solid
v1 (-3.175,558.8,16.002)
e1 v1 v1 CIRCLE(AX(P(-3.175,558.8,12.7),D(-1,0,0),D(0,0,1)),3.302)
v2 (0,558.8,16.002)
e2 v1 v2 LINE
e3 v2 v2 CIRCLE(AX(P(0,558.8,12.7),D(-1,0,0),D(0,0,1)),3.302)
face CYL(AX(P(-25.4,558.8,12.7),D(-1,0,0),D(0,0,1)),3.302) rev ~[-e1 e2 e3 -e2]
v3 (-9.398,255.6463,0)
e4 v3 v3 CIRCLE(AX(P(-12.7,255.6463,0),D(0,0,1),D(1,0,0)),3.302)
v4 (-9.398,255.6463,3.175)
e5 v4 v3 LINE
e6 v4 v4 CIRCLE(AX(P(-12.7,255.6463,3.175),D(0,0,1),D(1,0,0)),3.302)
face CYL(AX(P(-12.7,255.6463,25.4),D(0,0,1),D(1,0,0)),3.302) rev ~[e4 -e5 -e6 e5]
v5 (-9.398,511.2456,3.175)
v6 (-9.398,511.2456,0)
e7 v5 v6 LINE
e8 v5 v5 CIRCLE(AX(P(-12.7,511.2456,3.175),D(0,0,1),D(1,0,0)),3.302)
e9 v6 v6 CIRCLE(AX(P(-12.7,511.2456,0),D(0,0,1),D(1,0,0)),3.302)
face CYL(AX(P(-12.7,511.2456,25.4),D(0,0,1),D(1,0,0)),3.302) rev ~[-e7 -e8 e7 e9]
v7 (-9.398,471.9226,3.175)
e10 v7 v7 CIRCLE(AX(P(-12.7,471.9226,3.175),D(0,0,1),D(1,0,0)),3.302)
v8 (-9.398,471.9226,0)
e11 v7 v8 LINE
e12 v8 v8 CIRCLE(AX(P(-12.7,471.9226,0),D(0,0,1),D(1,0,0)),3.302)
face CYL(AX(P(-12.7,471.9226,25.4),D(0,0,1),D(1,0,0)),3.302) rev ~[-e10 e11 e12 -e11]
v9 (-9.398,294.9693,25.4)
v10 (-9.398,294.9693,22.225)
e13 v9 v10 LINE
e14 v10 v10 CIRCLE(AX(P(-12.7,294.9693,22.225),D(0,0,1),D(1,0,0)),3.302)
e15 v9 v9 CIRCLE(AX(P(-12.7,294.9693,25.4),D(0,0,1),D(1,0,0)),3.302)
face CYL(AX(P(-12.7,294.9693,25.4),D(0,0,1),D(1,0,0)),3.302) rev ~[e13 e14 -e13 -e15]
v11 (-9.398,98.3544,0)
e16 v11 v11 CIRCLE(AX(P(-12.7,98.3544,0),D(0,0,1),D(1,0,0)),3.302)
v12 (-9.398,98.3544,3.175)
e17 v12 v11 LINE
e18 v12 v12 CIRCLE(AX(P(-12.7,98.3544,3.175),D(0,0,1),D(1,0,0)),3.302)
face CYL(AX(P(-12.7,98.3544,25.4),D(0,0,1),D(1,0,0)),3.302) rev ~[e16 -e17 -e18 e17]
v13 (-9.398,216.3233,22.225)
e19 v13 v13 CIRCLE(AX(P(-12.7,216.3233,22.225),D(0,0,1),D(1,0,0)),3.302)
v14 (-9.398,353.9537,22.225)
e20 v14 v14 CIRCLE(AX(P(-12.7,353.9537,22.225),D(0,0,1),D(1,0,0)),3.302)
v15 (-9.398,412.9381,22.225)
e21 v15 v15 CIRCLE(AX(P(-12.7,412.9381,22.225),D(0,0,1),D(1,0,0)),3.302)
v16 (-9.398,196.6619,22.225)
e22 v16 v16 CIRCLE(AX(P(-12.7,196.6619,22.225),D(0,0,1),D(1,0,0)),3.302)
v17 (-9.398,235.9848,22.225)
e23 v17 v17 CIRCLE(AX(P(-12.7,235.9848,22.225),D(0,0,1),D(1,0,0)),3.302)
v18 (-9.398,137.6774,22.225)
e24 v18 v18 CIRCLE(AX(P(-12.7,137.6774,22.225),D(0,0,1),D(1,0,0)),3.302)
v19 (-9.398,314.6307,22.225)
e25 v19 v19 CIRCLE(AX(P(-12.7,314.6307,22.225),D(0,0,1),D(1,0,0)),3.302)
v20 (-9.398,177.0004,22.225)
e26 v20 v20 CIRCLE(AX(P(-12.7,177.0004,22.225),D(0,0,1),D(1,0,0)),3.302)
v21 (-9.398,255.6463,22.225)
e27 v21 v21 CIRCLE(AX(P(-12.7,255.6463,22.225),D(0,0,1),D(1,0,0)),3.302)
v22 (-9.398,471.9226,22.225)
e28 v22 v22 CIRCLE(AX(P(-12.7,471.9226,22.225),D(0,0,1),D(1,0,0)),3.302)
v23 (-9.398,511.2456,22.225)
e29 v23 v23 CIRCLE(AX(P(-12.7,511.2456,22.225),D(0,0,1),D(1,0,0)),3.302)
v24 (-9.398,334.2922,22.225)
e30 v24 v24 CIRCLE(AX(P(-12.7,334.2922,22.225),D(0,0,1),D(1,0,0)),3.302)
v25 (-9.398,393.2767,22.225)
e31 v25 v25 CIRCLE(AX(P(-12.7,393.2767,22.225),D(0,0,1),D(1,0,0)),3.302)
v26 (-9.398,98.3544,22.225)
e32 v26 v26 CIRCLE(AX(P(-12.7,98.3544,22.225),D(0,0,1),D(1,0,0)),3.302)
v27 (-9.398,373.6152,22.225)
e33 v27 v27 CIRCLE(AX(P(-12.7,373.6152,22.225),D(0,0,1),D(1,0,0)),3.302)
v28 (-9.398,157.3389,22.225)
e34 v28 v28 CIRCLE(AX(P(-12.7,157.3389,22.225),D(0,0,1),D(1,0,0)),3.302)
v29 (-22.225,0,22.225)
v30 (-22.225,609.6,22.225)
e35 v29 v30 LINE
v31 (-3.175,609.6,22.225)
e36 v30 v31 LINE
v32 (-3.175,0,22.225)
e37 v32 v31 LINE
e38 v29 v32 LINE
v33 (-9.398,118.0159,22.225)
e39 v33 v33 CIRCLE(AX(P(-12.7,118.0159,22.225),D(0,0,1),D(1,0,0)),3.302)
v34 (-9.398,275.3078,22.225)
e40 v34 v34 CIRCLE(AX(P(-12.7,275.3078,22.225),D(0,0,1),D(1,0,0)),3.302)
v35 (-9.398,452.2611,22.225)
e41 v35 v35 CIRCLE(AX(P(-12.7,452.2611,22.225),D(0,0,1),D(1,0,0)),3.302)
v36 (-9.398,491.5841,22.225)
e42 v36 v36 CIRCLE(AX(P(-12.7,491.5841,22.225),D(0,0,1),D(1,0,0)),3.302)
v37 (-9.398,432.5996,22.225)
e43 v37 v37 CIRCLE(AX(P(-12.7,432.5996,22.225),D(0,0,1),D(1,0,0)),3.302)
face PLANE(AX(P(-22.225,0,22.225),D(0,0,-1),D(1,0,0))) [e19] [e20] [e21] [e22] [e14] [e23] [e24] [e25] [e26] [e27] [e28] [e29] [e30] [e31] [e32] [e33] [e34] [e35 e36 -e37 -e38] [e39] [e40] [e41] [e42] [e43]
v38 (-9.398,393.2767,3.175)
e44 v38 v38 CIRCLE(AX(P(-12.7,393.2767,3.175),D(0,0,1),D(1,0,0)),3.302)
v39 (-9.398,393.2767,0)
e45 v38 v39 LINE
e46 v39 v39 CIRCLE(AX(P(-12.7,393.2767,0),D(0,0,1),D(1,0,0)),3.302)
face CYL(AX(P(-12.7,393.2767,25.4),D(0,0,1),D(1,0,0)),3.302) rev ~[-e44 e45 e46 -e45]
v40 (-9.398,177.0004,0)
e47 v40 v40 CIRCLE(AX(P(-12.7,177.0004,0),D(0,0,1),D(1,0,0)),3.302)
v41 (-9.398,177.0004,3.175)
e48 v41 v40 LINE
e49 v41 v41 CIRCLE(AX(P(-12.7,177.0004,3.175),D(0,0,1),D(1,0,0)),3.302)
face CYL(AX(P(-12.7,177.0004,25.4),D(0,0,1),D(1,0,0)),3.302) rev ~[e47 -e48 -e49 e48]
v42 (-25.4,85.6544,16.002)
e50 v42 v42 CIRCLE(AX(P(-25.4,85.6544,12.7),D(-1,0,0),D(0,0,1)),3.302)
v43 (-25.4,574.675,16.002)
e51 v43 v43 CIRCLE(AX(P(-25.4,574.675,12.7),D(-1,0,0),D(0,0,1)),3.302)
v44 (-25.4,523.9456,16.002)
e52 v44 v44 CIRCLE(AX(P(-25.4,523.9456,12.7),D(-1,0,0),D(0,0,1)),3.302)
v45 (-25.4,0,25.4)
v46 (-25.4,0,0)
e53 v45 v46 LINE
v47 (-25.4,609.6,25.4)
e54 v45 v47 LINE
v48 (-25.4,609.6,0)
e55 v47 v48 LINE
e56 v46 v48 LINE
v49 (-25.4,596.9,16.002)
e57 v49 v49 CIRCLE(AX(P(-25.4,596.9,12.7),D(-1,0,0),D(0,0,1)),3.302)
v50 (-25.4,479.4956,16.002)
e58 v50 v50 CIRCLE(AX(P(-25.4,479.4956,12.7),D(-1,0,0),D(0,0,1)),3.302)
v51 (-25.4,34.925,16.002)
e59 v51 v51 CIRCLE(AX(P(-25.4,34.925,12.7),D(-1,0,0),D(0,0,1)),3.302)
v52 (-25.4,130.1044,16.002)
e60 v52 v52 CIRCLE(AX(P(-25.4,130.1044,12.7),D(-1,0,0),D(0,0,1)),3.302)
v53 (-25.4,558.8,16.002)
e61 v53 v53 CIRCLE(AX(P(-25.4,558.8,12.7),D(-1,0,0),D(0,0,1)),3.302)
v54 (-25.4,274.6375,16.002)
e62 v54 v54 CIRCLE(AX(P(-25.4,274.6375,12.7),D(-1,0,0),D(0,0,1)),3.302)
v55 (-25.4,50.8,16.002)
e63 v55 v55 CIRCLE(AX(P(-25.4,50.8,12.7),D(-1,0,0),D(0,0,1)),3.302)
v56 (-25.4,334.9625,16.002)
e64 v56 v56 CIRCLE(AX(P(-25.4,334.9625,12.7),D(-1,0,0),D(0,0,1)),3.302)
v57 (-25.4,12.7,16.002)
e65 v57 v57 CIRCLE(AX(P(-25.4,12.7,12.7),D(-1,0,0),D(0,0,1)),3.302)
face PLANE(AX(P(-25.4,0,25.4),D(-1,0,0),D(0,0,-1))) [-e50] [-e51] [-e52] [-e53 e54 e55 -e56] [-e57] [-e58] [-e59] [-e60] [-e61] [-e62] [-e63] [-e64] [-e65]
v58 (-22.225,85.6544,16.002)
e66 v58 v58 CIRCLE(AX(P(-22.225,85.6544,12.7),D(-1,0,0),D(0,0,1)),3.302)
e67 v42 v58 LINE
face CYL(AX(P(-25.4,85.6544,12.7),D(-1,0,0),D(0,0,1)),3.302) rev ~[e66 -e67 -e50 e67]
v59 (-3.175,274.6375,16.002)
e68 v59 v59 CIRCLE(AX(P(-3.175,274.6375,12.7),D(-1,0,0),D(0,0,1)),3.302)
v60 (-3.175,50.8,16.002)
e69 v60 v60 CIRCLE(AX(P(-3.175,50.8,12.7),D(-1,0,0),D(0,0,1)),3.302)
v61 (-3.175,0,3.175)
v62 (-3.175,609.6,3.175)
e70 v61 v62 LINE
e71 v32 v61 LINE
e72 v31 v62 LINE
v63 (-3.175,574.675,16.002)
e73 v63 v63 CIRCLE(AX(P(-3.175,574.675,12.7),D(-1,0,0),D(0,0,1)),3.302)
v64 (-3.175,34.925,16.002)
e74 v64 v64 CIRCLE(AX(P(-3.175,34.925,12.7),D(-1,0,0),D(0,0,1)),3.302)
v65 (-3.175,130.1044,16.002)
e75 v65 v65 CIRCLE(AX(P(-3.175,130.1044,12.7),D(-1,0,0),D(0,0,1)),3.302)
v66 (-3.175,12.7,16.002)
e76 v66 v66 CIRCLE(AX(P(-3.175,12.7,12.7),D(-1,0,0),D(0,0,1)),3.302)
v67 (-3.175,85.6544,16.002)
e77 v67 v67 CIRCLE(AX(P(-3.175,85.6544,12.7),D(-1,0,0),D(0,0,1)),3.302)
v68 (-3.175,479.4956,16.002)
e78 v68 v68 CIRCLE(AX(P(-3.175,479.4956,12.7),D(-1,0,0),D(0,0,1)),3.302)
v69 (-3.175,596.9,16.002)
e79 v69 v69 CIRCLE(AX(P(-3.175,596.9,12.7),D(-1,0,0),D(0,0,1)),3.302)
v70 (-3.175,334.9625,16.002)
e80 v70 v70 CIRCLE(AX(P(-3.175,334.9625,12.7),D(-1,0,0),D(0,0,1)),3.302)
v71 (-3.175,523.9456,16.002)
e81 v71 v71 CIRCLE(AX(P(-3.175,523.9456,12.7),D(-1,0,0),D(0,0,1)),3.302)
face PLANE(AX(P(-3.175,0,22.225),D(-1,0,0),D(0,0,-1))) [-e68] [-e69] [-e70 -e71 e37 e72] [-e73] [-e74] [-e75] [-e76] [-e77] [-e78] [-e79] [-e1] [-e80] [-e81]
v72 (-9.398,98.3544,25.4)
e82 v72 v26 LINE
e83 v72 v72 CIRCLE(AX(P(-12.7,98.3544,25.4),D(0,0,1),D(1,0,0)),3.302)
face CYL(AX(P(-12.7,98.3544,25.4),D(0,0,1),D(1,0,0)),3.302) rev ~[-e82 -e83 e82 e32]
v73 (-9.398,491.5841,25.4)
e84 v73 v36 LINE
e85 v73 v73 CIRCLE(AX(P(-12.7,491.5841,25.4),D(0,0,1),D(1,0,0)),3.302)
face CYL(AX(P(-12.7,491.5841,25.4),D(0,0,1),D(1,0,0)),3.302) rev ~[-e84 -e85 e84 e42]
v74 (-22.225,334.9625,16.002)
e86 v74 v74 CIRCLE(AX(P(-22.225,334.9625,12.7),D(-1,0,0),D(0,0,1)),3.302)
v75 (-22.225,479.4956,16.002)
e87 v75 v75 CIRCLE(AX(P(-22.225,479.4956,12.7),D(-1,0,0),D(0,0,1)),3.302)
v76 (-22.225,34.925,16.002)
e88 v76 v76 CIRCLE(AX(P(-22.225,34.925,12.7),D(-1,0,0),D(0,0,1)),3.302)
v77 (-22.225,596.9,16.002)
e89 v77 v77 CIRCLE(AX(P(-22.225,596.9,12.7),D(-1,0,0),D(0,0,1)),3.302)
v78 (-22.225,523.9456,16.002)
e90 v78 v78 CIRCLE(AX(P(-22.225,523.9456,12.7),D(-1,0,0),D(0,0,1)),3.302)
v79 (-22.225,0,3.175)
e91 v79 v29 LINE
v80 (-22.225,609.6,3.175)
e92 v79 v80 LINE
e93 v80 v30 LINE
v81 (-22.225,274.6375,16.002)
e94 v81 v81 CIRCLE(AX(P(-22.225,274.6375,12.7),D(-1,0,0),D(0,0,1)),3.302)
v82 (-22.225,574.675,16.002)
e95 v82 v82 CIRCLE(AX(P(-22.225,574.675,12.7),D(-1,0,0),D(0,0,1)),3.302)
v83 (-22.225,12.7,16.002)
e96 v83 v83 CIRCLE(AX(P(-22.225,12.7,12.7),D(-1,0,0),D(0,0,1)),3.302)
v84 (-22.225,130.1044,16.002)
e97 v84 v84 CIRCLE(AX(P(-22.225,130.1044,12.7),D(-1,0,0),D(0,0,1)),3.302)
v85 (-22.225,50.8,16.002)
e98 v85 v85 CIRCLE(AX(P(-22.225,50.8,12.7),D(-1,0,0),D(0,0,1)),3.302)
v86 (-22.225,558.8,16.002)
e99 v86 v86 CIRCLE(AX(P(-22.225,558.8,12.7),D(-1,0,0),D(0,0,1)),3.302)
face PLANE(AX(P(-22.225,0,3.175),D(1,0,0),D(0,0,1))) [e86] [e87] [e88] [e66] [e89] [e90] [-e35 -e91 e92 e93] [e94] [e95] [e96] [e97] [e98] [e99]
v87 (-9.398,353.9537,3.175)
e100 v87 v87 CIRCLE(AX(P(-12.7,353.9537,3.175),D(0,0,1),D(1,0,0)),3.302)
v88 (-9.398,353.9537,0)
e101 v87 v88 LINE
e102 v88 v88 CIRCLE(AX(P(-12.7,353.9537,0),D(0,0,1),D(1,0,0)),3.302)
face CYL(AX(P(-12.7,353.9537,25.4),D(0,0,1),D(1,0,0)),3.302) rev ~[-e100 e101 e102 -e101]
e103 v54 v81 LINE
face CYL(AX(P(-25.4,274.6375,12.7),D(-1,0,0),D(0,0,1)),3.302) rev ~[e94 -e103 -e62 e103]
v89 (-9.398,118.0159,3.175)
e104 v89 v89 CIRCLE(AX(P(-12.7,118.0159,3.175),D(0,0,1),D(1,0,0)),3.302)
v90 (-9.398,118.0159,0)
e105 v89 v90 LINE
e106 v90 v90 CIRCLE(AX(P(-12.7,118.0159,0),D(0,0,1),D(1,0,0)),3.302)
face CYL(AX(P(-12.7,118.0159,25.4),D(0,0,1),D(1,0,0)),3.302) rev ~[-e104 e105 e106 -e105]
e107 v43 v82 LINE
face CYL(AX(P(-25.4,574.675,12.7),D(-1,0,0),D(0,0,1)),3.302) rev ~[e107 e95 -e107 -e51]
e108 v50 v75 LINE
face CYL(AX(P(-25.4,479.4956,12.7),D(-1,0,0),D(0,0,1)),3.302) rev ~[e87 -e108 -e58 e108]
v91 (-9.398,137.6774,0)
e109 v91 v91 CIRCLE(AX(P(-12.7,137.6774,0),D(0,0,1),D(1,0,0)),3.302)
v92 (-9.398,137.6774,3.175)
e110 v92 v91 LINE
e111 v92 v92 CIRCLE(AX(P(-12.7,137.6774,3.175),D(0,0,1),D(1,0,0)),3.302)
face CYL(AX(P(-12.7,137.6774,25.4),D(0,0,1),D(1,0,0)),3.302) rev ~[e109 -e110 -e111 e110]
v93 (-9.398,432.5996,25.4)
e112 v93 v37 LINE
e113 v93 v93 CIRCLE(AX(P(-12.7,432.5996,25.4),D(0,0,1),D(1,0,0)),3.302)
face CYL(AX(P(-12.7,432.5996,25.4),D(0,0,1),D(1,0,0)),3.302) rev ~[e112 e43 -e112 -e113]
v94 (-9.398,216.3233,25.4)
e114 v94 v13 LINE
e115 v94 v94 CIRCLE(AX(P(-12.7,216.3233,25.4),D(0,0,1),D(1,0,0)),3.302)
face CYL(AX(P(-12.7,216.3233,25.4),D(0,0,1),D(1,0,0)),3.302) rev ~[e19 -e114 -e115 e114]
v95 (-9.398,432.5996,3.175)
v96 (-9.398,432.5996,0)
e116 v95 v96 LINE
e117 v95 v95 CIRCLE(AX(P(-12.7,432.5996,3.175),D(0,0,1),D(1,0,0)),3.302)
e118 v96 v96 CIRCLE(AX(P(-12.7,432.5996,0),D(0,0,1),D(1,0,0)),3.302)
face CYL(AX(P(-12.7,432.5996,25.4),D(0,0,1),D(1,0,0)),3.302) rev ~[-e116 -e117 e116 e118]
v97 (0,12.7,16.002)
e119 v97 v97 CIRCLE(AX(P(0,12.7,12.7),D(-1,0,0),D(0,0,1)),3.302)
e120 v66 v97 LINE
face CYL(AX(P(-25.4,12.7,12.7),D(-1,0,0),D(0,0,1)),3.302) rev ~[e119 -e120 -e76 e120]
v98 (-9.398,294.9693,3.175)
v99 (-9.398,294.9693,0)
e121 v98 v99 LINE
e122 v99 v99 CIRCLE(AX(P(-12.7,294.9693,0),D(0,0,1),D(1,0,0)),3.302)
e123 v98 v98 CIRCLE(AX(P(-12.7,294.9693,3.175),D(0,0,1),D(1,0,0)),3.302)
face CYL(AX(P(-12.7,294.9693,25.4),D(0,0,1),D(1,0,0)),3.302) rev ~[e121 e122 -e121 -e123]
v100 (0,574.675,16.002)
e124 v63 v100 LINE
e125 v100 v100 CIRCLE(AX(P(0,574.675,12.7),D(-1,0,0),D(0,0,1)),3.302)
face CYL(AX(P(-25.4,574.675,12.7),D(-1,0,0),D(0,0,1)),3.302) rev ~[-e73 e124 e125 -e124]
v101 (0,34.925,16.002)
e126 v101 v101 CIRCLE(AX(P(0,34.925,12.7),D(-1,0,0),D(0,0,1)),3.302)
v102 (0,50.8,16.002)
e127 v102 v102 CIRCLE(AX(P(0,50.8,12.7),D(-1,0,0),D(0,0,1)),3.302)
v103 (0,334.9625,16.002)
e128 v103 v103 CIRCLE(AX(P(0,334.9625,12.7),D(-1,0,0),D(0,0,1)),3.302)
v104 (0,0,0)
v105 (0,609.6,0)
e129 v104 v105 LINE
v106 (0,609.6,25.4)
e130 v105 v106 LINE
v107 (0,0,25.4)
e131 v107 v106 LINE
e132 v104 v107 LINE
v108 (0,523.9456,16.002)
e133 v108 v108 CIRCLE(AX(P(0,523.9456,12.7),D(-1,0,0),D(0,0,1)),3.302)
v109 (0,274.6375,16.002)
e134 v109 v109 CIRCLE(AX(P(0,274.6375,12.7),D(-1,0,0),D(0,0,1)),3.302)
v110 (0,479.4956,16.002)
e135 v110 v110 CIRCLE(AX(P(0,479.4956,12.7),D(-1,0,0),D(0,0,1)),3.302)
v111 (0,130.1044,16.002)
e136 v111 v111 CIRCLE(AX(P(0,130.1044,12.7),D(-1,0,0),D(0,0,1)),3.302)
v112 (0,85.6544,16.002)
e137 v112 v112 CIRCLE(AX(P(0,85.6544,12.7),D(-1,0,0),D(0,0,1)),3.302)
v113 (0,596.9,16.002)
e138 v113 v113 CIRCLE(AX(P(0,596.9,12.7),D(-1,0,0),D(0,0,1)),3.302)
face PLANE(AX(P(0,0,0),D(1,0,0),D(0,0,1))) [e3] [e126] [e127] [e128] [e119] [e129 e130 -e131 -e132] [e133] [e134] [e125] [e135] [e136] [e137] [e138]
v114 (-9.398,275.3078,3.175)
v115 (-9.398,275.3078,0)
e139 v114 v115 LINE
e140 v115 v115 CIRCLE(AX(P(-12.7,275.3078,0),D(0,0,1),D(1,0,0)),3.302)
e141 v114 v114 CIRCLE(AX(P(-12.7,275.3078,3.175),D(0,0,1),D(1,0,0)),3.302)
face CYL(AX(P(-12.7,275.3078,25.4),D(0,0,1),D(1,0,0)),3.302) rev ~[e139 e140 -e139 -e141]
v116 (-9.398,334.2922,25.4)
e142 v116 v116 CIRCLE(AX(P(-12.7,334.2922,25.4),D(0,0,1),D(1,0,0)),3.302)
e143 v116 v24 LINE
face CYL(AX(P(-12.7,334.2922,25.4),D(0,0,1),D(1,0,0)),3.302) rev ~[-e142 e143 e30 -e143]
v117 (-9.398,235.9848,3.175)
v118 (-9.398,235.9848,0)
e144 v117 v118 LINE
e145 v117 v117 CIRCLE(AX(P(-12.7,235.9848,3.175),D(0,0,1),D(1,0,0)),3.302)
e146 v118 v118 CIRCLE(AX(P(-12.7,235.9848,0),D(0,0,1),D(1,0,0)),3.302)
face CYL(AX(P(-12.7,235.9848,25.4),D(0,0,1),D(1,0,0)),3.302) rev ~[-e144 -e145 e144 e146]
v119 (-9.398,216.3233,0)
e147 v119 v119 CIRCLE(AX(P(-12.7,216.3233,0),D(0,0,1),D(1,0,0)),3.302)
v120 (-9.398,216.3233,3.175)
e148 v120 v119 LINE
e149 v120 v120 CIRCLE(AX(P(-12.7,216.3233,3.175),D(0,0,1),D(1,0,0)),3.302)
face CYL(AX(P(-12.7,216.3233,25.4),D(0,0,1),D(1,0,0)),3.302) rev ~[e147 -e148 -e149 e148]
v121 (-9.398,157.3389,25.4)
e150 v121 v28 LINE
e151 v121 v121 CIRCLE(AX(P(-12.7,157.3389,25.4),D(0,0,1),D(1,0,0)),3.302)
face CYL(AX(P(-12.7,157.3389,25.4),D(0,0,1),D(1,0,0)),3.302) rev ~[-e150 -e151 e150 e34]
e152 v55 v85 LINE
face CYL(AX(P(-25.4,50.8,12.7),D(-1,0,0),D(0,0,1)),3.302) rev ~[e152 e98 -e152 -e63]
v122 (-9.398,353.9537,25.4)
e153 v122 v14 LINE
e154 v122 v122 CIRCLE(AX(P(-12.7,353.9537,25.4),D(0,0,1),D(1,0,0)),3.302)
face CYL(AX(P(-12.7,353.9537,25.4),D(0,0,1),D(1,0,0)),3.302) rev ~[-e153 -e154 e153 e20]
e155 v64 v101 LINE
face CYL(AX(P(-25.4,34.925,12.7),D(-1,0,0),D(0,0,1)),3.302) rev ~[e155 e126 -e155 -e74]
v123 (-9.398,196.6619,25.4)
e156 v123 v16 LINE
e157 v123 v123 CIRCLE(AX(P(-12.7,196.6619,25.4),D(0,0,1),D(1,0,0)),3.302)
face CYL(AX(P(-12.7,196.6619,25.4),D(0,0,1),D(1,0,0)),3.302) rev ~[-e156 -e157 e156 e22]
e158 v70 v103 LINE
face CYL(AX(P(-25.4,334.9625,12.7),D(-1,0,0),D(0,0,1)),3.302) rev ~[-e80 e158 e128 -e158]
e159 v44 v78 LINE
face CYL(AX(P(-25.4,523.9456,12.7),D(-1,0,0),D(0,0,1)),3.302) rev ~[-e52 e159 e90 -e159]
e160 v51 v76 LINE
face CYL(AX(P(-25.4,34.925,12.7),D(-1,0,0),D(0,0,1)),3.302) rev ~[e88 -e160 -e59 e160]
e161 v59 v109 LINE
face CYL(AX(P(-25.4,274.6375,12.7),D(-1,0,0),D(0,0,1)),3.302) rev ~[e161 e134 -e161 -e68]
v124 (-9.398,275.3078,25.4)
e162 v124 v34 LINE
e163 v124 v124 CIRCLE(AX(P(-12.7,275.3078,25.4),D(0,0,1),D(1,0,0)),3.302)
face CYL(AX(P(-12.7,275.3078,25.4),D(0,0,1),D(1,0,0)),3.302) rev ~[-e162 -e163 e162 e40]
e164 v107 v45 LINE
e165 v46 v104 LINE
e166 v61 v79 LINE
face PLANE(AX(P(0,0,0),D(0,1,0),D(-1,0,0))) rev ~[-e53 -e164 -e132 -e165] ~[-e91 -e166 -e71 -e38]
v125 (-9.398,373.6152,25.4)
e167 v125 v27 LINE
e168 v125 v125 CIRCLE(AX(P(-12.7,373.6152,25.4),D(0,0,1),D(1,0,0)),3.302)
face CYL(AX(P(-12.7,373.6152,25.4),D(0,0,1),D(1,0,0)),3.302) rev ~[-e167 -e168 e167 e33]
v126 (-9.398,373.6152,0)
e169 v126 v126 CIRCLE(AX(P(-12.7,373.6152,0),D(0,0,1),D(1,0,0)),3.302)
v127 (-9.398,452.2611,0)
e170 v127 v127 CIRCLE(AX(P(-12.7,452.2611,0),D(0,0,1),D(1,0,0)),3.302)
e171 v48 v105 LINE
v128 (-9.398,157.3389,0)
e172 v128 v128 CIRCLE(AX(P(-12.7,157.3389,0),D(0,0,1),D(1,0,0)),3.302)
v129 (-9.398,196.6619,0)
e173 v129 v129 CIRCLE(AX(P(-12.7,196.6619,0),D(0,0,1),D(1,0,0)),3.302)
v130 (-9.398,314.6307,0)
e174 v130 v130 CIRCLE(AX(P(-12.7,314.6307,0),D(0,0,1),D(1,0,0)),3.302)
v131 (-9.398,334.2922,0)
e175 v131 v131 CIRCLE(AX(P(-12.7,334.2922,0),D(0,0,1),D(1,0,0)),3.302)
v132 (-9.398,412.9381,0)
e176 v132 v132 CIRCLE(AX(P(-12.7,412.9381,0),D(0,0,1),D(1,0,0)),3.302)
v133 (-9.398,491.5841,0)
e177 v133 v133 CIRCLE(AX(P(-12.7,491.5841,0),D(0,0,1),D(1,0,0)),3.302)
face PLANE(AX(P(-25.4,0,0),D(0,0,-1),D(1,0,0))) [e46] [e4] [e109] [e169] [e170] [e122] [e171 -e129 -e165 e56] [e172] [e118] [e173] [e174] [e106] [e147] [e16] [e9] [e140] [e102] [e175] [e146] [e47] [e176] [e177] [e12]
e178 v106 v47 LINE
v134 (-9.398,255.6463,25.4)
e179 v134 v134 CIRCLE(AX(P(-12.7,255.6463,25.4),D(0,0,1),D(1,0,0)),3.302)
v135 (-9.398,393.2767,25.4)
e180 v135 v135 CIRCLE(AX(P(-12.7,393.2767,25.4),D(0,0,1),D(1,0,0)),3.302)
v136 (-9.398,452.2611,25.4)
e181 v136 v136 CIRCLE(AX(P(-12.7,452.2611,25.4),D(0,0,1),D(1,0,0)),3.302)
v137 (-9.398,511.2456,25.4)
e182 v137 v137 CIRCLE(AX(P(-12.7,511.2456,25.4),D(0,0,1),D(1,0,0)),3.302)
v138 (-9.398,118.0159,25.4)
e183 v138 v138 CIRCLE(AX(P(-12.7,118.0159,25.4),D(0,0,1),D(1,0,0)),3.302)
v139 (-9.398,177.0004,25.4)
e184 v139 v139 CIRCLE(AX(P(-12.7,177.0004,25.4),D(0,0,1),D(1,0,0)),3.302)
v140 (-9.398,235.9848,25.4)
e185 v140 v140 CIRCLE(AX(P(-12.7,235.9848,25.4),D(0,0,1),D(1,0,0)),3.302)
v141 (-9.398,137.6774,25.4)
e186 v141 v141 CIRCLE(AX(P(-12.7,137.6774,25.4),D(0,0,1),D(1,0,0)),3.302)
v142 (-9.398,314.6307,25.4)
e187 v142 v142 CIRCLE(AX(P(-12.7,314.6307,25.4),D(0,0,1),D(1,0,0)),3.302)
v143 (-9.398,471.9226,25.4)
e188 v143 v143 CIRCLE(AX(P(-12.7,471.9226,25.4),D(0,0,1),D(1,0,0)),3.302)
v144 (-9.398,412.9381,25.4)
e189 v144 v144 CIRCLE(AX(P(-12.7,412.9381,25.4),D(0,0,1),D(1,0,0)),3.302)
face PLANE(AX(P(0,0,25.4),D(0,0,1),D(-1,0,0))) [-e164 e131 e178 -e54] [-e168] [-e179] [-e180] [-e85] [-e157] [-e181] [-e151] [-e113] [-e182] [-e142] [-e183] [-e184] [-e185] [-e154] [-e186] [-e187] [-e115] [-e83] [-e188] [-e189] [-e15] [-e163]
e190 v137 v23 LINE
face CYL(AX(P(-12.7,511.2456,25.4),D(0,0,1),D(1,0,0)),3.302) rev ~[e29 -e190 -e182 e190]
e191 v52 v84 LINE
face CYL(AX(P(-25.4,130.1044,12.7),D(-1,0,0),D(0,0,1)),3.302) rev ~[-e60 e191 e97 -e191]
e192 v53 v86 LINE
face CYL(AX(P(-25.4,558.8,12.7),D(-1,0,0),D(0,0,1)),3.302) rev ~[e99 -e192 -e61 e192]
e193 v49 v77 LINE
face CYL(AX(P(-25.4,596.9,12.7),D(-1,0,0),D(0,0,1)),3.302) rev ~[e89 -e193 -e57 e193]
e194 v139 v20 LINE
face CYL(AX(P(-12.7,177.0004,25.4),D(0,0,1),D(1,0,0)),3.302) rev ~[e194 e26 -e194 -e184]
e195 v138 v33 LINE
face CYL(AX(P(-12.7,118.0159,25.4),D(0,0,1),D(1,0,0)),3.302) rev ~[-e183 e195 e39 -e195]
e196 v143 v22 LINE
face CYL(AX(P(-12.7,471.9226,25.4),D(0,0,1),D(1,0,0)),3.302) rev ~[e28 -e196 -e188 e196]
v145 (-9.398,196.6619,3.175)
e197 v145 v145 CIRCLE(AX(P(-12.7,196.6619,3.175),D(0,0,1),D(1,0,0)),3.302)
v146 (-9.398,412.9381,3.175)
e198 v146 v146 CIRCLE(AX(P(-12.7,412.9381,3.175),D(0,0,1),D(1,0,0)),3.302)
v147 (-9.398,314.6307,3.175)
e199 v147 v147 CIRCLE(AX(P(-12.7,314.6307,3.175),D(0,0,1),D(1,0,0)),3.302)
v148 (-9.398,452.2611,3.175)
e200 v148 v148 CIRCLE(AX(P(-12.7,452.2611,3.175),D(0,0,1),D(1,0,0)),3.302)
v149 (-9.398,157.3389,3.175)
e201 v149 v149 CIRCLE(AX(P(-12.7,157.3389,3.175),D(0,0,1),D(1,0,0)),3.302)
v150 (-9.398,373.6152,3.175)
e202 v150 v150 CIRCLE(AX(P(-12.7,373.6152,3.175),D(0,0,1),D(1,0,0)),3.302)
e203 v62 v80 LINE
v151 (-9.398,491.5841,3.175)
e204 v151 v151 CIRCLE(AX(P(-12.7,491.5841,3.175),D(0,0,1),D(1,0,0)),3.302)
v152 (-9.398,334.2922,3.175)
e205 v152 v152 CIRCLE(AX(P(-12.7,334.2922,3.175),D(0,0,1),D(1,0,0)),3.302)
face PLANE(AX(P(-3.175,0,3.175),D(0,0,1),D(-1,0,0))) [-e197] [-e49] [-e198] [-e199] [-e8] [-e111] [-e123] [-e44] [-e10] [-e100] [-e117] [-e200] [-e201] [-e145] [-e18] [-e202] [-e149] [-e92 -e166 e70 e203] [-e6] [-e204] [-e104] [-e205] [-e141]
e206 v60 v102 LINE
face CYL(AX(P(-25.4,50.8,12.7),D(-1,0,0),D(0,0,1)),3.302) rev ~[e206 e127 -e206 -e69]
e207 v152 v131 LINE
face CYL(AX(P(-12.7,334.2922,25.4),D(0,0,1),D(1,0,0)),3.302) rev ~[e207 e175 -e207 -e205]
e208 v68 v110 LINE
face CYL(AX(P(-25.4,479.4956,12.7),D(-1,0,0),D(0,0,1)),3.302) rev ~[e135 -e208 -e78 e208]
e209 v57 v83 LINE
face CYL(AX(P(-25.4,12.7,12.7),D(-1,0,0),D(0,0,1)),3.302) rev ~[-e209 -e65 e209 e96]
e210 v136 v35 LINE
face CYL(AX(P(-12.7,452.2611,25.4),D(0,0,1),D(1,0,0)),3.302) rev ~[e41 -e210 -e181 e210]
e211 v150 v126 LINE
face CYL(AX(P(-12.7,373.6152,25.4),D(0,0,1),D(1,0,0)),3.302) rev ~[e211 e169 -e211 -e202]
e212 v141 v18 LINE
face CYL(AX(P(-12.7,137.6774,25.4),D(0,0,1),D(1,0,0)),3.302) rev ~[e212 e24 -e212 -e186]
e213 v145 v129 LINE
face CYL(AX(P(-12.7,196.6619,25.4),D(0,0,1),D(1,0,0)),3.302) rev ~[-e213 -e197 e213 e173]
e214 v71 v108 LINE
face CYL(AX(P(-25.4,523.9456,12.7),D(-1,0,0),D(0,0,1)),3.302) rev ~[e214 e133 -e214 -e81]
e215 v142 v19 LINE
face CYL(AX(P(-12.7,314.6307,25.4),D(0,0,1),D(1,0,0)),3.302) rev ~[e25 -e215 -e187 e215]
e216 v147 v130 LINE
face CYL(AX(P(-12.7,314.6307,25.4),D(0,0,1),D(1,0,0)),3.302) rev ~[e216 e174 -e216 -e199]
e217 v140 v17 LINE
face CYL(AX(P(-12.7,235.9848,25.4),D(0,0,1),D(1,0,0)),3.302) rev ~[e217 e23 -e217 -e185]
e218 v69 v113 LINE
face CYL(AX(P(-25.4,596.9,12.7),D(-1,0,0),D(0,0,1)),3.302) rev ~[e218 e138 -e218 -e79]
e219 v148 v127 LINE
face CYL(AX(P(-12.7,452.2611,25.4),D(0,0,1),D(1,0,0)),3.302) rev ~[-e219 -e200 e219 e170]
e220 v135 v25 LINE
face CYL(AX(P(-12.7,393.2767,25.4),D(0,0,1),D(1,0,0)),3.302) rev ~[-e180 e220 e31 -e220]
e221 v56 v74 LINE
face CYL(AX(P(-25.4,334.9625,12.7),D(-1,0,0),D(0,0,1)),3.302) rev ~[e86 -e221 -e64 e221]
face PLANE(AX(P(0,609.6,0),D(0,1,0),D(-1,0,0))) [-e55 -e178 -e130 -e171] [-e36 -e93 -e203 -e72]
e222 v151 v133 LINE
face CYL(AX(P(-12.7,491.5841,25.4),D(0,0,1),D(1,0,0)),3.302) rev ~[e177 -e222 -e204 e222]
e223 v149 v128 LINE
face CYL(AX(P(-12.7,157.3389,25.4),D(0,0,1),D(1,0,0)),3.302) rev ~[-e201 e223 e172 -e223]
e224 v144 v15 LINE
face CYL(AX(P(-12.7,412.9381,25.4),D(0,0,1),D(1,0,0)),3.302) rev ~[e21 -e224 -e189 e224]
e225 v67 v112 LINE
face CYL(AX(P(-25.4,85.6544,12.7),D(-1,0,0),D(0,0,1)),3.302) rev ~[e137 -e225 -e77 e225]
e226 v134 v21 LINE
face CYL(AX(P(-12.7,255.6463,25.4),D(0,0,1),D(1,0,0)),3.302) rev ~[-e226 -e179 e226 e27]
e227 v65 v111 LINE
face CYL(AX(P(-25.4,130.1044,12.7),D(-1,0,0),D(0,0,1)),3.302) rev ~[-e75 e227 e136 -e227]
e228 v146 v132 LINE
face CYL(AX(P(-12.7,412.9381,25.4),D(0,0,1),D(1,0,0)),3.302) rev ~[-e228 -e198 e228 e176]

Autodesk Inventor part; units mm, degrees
ref_plane "YZ Plane" through (0, 0, 0) normal (1, 0, 0) x (0, 1, 0)
ref_plane "XZ Plane" through (0, 0, 0) normal (0, 1, 0) x (-1, 0, 0)
ref_plane "XY Plane" through (0, 0, 0) normal (0, 0, 1) x (1, 0, 0)
sketch "Sketch1" plane through (0, 0, 0) normal (0, 1, 0) x (-1, 0, 0)
  line L0 (0, 25.4) -> (25.4, 25.4)
  line L1 (25.4, 25.4) -> (25.4, 0)
  line L2 (25.4, 0) -> (0, 0)
  line L3 (0, 0) -> (0, 25.4)
  line L4 (22.225, 22.225) -> (3.175, 22.225)
  line L5 (3.175, 22.225) -> (3.175, 3.175)
  line L6 (3.175, 3.175) -> (22.225, 3.175)
  line L7 (22.225, 3.175) -> (22.225, 22.225)
  dimension "d0" = 25.4
  dimension "d1" = 25.4
  dimension "d2" = 3.175
extrude "Extrusion1" add sketch "Sketch1" along normal blind 609.6
sketch "Sketch2" plane through (-25.4, 0, 25.4) normal (0, 0, 1) x (1, 0, 0)
  circle A0 centre (12.7, 491.5841) radius 3.302 projected
  circle A1 centre (12.7, 452.2611) radius 3.302 projected
  circle A2 centre (12.7, 412.9381) radius 3.302 projected
  circle A3 centre (12.7, 373.6152) radius 3.302 projected
  circle A4 centre (12.7, 334.2922) radius 3.302 projected
  circle A5 centre (12.7, 294.9693) radius 3.302 projected
  circle A6 centre (12.7, 255.6463) radius 3.302 projected
  circle A7 centre (12.7, 216.3233) radius 3.302 projected
  circle A8 centre (12.7, 177.0004) radius 3.302 projected
  circle A9 centre (12.7, 137.6774) radius 3.302 projected
  circle A10 centre (12.7, 98.3544) radius 3.302 projected
  circle A11 centre (12.7, 118.0159) radius 3.302 projected
  circle A12 centre (12.7, 157.3389) radius 3.302 projected
  circle A13 centre (12.7, 196.6619) radius 3.302 projected
  circle A14 centre (12.7, 235.9848) radius 3.302 projected
  circle A15 centre (12.7, 275.3078) radius 3.302 projected
  circle A16 centre (12.7, 314.6307) radius 3.302 projected
  circle A17 centre (12.7, 353.9537) radius 3.302 projected
  circle A18 centre (12.7, 393.2767) radius 3.302 projected
  circle A19 centre (12.7, 432.5996) radius 3.302 projected
  circle A20 centre (12.7, 471.9226) radius 3.302 projected
  circle A21 centre (12.7, 511.2456) radius 3.302 projected
  line L0 (0, 25.4) -> (25.4, 25.4) projected
  line L1 (0, 25.4) -> (0, 584.2) projected
  line L2 (25.4, 584.2) -> (0, 584.2) projected
  line L3 (25.4, 25.4) -> (25.4, 584.2) projected
extrude "Extrusion2" cut sketch "Sketch2" against normal through all contours A0 | A1 | A2 | A3 | A4 | A5 | A6 | A7 | A8 | A9 | A10 | A11 | A12 | A13 | A14 | A15 | A16 | A17 | A18 | A19 | A20 | A21
sketch "Sketch3" plane through (-25.4, 0, 0) normal (-1, 0, 0) x (0, 0, 1)
  line L0 (25.4, 0) -> (25.4, 609.6) projected
  line L1 (0, 0) -> (0, 609.6) projected
  line L2 (0, 511.2456) -> (25.4, 511.2456) construction
  line L3 (0, 373.6152) -> (25.4, 373.6152) construction
  line L4 (0, 235.9848) -> (25.4, 235.9848) construction
  line L5 (0, 98.3544) -> (25.4, 98.3544) construction
  line L6 (12.7, 523.9456) -> (12.7, 479.4956) construction
  line L7 (12.7, 403.7777) -> (12.7, 343.4527) construction
  line L8 (12.7, 258.2098) -> (12.7, 213.7598) construction
  line L9 (12.7, 130.1044) -> (12.7, 85.6544) construction
  circle A0 centre (12.7, 523.9456) radius 3.302
  circle A1 centre (12.7, 479.4956) radius 3.302
  circle A2 centre (12.7, 403.7777) radius 3.302
  circle A3 centre (12.7, 343.4527) radius 3.302
  circle A4 centre (12.7, 258.2098) radius 3.302
  circle A5 centre (12.7, 213.7598) radius 3.302
  circle A6 centre (12.7, 130.1044) radius 3.302
  circle A7 centre (12.7, 85.6544) radius 3.302
  line L10 (0, 304.8) -> (25.4, 304.8) construction
  line L11 (12.7, 334.9625) -> (12.7, 274.6375) construction
  circle A8 centre (12.7, 334.9625) radius 3.302
  circle A9 centre (12.7, 274.6375) radius 3.302
  line L12 (0, 609.6) -> (25.4, 609.6) projected
  line L13 (0, 107.8794) -> (25.4, 107.8794) construction
  line L14 (25.4, 0) -> (0, 0) projected
  circle A10 centre (12.7, 596.9) radius 3.302 projected
  circle A11 centre (12.7, 574.675) radius 3.302 projected
  circle A12 centre (12.7, 558.8) radius 3.302 projected
  line L15 (0, 501.7206) -> (25.4, 501.7206) construction
  circle A13 centre (12.7, 12.7) radius 3.302 projected
  circle A14 centre (12.7, 34.925) radius 3.302 projected
  circle A15 centre (12.7, 50.8) radius 3.302 projected
  line L16 (22.225, 507.9436) -> (22.225, 514.5476) projected
  line L17 (22.225, 95.0524) -> (22.225, 101.6564) projected
  line L18 (22.225, 232.6828) -> (22.225, 239.2868) projected
  line L19 (22.225, 370.3132) -> (22.225, 376.9172) projected
  point P0 (12.7, 235.9848)
  point P1 (12.7, 373.6152)
  point P2 (12.7, 304.8)
  point P3 (12.7, 107.8794)
  point P4 (12.7, 501.7206)
  point P5 (22.225, 511.2456)
  point P6 (22.225, 373.6152)
  point P7 (22.225, 235.9848)
  point P8 (22.225, 98.3544)
  dimension "d7" = 44.45
  dimension "d8" = 60.325
  dimension "d9" = 44.45
  dimension "d10" = 44.45
  dimension "d11" = 6.604
  dimension "d12" = 6.604
  dimension "d13" = 6.604
  dimension "d14" = 6.604
  dimension "d15" = 6.604
  dimension "d16" = 6.604
  dimension "d17" = 6.604
  dimension "d18" = 6.604
  dimension "d21" = 60.325
  dimension "d22" = 6.604
  dimension "d23" = 6.604
  dimension "d27" = 9.525
  dimension "d28" = 9.525
extrude "Extrusion3" cut sketch "Sketch3" against normal blind 25.4 contours A0 | A1 | A6 | A7 | A8 | A9 | A10 | A11 | A12 | A13 | A14 | A15
equation "\"d9\" = d7"
equation "\"d10\" = d7"
equation "\"d12\" = d11"
equation "\"d13\" = d11"
equation "\"d14\" = d11"
equation "\"d15\" = d11"
equation "\"d16\" = d11"
equation "\"d17\" = d11"
equation "\"d18\" = d11"
equation "\"d21\" = d8"
equation "\"d22\" = d11"
equation "\"d23\" = d11"
equation "\"d27\" = d28"
properties part number "Chassis V1.500 Part1" material "Aluminum 6061"
